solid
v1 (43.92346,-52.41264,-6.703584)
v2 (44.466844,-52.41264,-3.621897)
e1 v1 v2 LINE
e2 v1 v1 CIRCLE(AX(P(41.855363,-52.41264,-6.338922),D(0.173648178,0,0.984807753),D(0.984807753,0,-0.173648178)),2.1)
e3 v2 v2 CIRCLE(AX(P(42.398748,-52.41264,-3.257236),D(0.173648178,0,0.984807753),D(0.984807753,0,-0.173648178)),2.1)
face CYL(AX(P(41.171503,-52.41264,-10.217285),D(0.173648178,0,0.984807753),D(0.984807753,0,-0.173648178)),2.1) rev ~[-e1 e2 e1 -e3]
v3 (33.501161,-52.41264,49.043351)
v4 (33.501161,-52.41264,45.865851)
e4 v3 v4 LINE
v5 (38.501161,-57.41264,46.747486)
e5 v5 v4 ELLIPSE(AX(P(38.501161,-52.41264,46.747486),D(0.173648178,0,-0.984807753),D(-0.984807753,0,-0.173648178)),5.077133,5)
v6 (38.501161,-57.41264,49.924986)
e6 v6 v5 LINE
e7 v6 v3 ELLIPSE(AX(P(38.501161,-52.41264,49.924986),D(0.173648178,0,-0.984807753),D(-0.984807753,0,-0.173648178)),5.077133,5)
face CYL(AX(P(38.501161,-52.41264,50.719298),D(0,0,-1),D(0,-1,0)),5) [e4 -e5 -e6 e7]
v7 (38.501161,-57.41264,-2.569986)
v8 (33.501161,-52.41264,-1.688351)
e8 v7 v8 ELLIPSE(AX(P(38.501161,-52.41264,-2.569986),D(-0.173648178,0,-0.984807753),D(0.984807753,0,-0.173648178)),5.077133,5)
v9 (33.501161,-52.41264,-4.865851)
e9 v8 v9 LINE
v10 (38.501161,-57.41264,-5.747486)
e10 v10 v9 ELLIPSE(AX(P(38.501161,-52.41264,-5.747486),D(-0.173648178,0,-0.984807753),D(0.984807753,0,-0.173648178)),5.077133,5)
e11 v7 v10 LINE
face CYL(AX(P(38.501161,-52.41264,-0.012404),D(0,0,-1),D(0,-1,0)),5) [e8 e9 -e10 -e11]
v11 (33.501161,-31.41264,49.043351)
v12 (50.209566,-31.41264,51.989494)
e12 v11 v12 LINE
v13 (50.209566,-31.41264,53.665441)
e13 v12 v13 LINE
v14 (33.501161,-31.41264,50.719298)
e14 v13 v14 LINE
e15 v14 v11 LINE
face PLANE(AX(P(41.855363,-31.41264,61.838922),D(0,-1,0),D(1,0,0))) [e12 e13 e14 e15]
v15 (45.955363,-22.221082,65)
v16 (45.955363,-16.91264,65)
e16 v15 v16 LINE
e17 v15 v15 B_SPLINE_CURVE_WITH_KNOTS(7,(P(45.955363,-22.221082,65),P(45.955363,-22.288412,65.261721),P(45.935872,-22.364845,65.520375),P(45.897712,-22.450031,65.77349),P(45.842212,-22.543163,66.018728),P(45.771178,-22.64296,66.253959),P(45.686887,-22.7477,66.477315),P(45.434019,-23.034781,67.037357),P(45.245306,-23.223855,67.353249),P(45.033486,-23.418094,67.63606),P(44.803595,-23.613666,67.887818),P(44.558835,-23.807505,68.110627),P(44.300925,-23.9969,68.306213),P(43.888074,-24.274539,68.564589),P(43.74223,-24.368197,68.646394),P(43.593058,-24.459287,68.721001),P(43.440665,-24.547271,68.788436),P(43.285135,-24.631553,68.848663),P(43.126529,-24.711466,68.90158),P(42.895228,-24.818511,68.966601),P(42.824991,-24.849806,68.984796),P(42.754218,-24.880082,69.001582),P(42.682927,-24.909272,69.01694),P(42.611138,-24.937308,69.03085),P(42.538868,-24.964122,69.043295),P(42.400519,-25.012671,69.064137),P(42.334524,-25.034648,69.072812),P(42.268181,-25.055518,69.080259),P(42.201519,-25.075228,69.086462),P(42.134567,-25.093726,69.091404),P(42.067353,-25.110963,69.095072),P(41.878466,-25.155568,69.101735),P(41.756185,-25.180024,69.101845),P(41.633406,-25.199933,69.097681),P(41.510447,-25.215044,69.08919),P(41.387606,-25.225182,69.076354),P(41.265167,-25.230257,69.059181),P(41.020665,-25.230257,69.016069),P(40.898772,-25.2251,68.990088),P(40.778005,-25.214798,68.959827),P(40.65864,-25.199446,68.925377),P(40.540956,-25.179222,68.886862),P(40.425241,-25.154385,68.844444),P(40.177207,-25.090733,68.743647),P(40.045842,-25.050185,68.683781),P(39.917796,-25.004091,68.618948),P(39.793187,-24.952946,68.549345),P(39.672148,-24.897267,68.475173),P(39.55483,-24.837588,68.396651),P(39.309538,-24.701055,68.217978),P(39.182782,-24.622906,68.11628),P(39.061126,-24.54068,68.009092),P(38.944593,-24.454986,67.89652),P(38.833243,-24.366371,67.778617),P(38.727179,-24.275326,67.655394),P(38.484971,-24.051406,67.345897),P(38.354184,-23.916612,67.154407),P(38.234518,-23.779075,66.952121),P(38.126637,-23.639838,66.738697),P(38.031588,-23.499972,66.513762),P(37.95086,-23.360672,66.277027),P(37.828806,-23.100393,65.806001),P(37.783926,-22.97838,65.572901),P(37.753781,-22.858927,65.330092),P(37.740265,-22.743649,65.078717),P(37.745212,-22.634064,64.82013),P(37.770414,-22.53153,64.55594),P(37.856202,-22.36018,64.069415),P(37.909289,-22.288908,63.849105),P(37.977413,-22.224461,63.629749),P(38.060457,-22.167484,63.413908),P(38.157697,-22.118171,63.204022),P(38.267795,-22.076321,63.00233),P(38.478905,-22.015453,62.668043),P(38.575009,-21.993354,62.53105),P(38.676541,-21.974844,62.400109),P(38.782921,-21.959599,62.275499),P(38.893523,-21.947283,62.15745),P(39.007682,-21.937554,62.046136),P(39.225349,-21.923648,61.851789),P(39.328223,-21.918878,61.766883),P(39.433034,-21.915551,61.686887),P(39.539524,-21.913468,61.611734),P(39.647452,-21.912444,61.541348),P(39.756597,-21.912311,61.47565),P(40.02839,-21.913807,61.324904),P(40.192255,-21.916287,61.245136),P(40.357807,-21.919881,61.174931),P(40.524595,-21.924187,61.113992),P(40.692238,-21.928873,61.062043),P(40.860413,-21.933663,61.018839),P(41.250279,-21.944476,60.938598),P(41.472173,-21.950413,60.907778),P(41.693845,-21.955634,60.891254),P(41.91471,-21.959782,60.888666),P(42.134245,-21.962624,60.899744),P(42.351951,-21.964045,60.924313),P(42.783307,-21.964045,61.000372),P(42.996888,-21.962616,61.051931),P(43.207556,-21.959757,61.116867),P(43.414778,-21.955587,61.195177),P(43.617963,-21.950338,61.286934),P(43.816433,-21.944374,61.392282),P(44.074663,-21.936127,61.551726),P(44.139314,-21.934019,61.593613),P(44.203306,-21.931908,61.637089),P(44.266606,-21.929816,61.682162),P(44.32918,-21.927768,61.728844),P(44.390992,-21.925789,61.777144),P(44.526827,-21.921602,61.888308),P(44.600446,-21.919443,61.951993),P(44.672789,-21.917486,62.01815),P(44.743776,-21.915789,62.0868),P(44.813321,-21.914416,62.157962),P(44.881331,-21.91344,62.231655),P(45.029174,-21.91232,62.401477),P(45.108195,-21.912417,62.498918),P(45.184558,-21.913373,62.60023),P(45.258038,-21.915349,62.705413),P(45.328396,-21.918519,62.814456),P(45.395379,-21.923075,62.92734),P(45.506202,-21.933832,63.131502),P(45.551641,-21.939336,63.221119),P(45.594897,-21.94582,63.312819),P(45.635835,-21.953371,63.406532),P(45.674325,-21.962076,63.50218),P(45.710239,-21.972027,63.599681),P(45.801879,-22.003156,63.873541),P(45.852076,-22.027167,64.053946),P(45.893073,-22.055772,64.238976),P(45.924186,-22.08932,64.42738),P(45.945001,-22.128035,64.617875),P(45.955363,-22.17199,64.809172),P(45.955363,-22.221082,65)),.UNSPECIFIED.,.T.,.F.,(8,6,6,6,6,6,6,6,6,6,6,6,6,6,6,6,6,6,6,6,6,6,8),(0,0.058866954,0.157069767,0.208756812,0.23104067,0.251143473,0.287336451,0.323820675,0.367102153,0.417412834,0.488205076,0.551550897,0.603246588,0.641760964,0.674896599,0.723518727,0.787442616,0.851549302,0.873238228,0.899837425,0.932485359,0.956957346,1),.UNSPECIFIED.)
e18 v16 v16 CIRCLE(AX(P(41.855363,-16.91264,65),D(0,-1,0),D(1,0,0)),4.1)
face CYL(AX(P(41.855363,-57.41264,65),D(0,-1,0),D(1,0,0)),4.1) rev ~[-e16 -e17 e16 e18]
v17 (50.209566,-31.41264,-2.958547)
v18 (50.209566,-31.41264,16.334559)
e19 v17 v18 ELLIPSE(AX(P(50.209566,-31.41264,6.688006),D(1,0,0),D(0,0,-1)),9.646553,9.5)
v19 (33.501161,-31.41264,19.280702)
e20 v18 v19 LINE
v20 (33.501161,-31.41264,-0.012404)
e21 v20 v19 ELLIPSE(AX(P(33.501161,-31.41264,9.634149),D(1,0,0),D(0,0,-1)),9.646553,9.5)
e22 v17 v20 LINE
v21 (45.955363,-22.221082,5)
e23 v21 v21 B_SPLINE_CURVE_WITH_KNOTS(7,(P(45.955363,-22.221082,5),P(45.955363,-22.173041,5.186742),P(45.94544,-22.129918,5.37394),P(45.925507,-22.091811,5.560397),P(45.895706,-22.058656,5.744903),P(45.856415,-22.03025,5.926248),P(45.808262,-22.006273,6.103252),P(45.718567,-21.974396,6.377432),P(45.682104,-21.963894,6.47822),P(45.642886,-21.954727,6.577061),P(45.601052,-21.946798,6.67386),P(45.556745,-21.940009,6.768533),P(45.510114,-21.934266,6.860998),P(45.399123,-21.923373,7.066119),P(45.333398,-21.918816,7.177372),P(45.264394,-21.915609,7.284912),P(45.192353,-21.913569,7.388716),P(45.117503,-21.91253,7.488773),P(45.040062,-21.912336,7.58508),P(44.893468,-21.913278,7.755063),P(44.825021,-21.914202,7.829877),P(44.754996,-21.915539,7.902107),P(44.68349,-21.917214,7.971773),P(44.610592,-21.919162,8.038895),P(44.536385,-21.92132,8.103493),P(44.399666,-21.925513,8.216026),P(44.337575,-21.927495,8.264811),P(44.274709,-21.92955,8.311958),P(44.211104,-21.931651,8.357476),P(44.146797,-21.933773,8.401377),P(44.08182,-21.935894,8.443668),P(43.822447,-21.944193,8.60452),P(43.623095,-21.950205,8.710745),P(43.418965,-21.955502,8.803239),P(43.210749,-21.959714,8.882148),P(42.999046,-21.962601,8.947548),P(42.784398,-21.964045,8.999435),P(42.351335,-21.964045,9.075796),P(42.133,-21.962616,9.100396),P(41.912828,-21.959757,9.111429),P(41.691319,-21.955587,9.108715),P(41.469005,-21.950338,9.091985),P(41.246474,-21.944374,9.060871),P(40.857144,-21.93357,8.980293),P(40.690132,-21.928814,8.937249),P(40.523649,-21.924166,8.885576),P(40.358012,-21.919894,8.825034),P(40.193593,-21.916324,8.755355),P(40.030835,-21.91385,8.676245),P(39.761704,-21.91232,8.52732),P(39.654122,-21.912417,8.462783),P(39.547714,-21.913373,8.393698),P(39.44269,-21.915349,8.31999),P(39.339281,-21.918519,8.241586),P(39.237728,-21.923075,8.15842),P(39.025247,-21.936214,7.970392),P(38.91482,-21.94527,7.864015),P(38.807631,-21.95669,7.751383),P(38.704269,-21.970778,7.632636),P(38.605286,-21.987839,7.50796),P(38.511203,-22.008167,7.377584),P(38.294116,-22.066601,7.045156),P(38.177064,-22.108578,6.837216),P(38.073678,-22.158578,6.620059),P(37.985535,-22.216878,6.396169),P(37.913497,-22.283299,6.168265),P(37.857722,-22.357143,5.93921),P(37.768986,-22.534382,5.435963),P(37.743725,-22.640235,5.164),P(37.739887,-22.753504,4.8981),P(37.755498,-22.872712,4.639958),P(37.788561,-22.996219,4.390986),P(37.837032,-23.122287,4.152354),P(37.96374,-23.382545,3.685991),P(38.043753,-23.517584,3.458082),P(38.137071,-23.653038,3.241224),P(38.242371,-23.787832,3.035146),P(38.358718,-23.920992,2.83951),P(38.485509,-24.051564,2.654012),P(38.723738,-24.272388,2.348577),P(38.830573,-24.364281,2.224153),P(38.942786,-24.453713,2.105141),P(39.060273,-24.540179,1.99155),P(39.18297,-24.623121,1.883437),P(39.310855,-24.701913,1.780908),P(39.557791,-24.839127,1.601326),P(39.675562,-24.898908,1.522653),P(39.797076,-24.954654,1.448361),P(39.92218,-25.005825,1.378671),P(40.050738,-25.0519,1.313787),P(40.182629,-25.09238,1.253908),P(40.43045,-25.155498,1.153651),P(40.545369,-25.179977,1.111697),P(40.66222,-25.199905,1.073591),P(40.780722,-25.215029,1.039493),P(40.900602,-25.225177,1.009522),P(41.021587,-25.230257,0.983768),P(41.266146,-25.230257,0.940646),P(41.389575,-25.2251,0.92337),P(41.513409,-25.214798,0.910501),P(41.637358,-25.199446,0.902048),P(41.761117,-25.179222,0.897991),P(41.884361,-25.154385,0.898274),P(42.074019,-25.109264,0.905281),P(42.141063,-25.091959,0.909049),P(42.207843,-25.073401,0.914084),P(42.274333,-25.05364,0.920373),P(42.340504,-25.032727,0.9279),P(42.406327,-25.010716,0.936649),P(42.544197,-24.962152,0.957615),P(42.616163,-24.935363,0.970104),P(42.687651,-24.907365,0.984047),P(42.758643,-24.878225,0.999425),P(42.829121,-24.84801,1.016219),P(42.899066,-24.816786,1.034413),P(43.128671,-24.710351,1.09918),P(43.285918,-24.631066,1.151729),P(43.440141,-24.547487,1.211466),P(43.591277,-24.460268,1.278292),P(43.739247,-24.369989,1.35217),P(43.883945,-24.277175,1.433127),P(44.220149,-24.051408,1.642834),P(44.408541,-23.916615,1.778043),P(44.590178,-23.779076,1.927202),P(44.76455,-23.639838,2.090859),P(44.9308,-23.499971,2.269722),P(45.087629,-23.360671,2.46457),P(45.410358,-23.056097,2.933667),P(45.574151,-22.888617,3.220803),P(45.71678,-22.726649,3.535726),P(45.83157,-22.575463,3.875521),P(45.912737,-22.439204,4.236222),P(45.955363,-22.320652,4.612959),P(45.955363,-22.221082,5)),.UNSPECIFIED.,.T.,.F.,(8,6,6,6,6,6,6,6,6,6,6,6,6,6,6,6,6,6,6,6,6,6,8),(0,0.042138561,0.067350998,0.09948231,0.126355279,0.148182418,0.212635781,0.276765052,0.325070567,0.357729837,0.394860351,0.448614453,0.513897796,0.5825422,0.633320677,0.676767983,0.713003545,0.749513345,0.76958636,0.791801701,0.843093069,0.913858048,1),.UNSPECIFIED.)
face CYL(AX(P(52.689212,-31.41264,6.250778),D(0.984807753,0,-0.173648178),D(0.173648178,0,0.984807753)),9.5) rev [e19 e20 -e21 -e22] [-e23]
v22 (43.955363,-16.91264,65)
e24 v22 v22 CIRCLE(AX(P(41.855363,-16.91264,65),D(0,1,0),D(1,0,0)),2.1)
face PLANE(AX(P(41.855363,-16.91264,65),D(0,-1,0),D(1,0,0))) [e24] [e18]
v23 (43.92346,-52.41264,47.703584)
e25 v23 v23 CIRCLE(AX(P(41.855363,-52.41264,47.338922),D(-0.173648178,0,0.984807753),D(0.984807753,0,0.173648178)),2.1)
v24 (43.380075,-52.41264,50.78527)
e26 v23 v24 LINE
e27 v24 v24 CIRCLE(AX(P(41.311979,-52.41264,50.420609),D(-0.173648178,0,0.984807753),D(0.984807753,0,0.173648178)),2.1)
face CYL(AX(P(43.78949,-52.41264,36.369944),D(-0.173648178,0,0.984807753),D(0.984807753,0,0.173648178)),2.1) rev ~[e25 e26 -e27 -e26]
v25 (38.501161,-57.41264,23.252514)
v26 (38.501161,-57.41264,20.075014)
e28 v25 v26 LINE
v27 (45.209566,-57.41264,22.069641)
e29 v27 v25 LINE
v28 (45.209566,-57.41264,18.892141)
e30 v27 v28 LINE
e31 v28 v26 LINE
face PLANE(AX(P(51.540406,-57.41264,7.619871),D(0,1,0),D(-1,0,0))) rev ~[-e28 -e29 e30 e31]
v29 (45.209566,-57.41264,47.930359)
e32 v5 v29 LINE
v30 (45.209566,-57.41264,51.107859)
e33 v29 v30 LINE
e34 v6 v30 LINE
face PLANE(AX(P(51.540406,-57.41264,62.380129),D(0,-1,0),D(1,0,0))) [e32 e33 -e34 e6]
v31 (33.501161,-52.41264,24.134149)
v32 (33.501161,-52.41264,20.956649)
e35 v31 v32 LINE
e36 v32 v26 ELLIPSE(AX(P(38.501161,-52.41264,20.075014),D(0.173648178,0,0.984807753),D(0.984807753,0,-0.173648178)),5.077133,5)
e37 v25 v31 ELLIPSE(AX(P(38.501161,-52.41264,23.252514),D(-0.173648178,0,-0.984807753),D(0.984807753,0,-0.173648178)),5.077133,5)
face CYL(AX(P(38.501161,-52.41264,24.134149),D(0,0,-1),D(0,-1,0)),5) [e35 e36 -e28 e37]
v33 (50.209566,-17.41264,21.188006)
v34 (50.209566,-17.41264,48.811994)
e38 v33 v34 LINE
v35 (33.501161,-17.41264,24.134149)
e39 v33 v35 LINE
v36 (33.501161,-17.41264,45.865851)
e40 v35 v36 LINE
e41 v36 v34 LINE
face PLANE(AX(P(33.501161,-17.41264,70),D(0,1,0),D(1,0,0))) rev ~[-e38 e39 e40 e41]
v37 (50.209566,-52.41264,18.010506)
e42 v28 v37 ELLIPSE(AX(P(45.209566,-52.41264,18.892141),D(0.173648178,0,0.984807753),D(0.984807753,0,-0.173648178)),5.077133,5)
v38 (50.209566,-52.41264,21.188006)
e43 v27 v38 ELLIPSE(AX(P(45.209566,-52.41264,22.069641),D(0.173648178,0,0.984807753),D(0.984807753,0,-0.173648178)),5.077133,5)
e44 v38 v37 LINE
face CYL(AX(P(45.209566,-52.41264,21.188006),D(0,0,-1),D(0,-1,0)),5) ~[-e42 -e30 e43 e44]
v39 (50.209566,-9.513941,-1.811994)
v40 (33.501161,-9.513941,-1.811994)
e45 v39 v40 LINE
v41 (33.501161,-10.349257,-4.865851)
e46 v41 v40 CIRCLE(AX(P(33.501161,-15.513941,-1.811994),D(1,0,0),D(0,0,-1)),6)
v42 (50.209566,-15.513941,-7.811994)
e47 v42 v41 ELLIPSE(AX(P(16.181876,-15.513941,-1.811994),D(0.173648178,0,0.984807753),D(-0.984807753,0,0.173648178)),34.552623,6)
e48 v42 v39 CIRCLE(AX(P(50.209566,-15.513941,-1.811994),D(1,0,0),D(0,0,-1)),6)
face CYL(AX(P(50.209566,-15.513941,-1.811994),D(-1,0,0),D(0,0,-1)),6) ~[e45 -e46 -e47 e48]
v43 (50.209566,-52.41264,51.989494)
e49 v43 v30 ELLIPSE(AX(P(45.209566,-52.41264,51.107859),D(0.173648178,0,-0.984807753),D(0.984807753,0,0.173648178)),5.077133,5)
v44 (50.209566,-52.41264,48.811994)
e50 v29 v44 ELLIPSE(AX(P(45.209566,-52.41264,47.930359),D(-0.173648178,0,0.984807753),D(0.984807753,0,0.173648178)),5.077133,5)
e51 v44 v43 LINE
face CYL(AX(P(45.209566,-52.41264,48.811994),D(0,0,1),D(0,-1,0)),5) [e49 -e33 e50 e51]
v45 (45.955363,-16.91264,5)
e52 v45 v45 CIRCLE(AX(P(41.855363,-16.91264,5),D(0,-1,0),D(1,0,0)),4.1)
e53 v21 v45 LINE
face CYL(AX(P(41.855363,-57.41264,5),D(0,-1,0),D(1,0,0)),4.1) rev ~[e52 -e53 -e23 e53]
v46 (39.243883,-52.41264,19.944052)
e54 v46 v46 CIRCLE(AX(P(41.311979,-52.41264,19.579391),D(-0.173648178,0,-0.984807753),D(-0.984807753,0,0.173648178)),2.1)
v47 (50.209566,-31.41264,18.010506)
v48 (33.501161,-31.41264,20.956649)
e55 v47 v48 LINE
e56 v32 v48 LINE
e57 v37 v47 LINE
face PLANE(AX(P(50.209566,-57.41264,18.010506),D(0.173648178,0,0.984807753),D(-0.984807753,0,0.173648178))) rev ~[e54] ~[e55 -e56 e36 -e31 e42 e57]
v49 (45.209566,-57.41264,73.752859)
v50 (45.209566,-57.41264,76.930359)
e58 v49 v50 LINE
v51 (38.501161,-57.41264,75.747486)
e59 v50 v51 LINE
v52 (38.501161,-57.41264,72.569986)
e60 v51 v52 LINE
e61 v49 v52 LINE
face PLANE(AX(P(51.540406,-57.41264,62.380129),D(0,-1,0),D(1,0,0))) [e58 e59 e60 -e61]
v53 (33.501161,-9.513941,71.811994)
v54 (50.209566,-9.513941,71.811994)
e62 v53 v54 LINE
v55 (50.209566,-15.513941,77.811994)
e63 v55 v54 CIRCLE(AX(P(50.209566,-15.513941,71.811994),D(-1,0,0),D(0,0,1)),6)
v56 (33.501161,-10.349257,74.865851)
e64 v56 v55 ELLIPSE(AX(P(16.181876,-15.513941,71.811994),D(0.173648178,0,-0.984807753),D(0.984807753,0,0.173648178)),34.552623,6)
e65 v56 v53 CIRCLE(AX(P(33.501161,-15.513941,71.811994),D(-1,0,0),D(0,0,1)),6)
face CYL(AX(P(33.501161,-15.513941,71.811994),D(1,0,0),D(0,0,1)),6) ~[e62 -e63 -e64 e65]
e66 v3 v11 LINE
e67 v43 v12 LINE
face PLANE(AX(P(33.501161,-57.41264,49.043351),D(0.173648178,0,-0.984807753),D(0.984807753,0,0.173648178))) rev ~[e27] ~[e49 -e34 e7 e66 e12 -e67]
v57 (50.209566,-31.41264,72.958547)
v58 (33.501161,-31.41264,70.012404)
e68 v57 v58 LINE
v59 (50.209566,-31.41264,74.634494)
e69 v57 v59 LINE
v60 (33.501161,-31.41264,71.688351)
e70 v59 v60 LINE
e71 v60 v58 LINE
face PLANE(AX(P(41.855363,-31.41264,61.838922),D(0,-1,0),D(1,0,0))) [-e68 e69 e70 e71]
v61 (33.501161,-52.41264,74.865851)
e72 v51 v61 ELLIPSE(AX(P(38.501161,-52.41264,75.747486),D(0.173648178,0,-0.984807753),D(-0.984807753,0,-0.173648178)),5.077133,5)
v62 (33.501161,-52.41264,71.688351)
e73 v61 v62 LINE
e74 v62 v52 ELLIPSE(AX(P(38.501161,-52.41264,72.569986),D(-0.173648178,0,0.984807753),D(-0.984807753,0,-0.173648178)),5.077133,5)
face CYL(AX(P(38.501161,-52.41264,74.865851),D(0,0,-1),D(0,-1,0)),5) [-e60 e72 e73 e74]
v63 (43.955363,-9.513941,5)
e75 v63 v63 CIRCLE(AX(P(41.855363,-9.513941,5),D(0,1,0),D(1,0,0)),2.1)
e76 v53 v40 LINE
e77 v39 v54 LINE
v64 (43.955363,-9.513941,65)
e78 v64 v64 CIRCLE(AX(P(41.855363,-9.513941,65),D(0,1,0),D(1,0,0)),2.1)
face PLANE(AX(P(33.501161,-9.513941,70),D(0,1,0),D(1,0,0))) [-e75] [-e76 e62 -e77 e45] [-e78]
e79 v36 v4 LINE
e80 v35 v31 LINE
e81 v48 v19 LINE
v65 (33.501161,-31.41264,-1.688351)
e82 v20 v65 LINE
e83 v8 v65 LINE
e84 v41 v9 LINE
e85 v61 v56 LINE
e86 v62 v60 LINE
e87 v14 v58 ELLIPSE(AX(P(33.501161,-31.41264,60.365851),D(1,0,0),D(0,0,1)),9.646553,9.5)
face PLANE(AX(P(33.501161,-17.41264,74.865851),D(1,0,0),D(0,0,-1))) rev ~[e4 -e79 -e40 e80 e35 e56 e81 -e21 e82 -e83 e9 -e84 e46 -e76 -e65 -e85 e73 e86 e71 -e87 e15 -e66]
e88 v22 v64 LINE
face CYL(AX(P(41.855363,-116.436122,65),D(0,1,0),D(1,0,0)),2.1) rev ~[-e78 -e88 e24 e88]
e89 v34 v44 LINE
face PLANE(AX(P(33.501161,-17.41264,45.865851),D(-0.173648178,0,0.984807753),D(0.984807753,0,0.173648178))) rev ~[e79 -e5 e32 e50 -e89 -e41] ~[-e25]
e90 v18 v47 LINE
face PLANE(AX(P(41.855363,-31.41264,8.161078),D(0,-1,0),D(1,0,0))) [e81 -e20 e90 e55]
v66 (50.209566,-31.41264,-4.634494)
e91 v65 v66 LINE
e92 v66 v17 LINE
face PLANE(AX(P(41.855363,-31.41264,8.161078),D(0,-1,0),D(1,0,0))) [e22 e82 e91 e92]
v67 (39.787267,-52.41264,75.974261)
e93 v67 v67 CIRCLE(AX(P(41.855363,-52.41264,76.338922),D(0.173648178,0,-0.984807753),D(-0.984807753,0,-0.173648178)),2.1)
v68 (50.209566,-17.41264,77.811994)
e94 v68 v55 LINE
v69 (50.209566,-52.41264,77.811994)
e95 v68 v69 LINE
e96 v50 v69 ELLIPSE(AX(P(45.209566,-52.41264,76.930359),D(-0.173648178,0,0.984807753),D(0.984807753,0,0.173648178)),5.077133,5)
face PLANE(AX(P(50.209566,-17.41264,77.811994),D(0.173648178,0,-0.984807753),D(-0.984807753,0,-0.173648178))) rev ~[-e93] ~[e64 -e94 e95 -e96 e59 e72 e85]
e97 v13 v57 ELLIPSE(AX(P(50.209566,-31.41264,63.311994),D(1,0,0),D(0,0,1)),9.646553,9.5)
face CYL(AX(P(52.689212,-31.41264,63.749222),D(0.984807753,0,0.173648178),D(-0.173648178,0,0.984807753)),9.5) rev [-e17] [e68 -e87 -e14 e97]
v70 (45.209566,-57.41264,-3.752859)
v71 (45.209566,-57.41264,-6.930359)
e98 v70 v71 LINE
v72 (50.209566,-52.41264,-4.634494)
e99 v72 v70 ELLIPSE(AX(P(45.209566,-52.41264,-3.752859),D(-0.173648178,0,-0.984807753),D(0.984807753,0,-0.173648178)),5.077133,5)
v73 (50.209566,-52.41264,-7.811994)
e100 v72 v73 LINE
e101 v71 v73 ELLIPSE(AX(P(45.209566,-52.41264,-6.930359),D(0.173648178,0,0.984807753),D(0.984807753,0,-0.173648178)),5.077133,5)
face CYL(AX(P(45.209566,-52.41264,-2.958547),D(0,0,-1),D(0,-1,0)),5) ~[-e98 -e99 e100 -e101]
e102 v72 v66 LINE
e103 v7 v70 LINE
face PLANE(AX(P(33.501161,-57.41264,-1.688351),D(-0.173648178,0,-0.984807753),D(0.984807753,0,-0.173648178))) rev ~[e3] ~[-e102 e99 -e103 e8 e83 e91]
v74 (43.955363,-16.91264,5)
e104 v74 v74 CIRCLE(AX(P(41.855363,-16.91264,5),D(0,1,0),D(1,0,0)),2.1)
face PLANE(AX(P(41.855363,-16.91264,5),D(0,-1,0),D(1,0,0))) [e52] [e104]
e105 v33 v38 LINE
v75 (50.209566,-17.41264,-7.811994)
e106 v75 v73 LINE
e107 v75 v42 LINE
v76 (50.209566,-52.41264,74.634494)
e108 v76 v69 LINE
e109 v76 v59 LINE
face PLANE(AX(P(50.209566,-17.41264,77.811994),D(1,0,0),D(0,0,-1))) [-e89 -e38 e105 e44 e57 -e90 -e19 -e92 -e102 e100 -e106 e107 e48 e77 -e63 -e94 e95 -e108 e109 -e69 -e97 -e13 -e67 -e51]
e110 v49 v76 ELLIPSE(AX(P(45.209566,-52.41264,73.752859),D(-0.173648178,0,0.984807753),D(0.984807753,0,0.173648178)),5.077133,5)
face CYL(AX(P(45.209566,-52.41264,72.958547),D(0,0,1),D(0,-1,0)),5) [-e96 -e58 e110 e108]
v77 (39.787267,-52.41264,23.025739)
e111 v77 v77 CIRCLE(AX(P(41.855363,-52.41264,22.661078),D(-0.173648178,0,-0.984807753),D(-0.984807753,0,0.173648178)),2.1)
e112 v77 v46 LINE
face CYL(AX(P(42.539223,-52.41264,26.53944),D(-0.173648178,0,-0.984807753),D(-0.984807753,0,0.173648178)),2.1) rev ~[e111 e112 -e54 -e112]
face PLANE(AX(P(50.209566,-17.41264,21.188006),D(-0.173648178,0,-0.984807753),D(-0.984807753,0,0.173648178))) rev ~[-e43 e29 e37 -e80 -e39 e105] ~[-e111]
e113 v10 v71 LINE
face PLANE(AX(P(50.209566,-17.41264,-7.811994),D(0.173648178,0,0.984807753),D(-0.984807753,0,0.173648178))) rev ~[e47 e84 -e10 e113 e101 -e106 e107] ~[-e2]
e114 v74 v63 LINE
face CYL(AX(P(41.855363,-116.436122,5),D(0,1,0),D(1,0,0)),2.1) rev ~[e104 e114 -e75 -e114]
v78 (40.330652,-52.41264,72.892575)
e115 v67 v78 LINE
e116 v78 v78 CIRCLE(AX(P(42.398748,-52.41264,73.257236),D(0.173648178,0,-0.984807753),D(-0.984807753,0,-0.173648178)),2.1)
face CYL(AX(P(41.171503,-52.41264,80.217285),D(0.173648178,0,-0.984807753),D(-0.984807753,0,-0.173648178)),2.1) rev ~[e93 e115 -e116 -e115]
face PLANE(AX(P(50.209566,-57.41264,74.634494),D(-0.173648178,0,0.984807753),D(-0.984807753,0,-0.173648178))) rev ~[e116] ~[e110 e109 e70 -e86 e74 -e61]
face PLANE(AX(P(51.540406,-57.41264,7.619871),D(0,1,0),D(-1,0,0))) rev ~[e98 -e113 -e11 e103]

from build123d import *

# Parameters (mm, degrees)
SKETCH1_R             = 21
BOSS_EXTRUDE1_DEPTH   = 70
SKETCH2_W             = 46.708404894
SKETCH2_H             = 50
SKETCH2_W_2           = 13.291595106
CUT_EXTRUDE6_DEPTH    = 1000
CUT_EXTRUDE7_DEPTH    = 500
CUT_EXTRUDE9_DEPTH    = 10
CUT_EXTRUDE10_DEPTH   = 30
FILLET1_R             = 10
BOSS_EXTRUDE4_DEPTH   = 25
FILLET3_R             = 10
SKETCH14_R            = 4
CUT_EXTRUDE11_DEPTH   = 127.980923087
CUT_EXTRUDE12_START   = -2
CUT_EXTRUDE12_DEPTH   = 2
CUT_EXTRUDE13_DEPTH   = 2
BOSS_EXTRUDE5_REACH   = 117.988
SKETCH20_W            = 16.708404894
SKETCH20_H            = 7.898698888
SKETCH26_W            = 16.708404894
SKETCH26_H            = 7.898698888
BOSS_EXTRUDE12_DEPTH  = 7.811994
SKETCH27_W            = 16.708404894
SKETCH27_H            = 7.898698888
BOSS_EXTRUDE13_DEPTH  = 7.811994
FILLET4_R             = 6
FILLET5_R             = 6
BOSS_EXTRUDE14_DEPTH  = 40
BOSS_EXTRUDE15_DEPTH  = 40
CUT_EXTRUDE14_DEPTH   = 156.020628616
BOSS_EXTRUDE16_DEPTH  = 40
CUT_EXTRUDE16_DEPTH   = 154.401382374
CUT_EXTRUDE17_DEPTH   = 20
CUT_EXTRUDE18_DEPTH   = 20
CUT_EXTRUDE19_DEPTH   = 138.956751978
SKETCH40_W            = 185.24105406
SKETCH40_H            = 117.002542876
CUT_EXTRUDE21_DEPTH   = 127.12652477
SKETCH41_W            = 67.695511819
SKETCH41_H            = 32.478739283
CUT_EXTRUDE22_DEPTH   = 109.958332386
FILLET6_R             = 5
SKETCH78_R            = 4.1
CUT_EXTRUDE23_DEPTH   = 40.5
M5_TAPPED_HOLE2_D     = 4.2
M5_TAPPED_HOLE3_D     = 4.2
M5_TAPPED_HOLE3_DEPTH = 3.9381927
M5_TAPPED_HOLE3_TIP   = 1.2618073
M5_TAPPED_HOLE4_D     = 4.2
M5_TAPPED_HOLE4_DEPTH = 3.9381927
M5_TAPPED_HOLE4_TIP   = 1.2618073
M5_TAPPED_HOLE5_D     = 4.2
M5_TAPPED_HOLE5_DEPTH = 3.9381927
M5_TAPPED_HOLE5_TIP   = 1.2618073
M5_TAPPED_HOLE6_D     = 4.2
M5_TAPPED_HOLE6_DEPTH = 11.1381927
M5_TAPPED_HOLE6_TIP   = 1.2618073
CUT_EXTRUDE24_DEPTH   = 26
CUT_EXTRUDE25_DEPTH   = 26


with BuildPart() as part:
    # Sketch1 → Boss-Extrude1 (new body)
    with BuildSketch(Plane.XY):
        with BuildLine():
            Line((-49.790434142, -17.412639916), (50.209565858, -17.412639916))
            Line((50.209565858, -17.412639916), (50.209565858, -9.513941028))
            ThreePointArc((50.209565858, -9.513941028), (38.690061243, 42.665747249), (-10.864044799, 22.670512076))
            add(Edge.make_bspline(
                [(-49.790434142, -1.270303125), (-17.557932869, 2.386486473), (-10.864044799, 22.670512076)],
                knots=[0, 0, 0, 1, 1, 1], degree=2))
            Line((-49.790434142, -1.270303125), (-49.790434142, -17.412639916))
        make_face()
        with Locations((22.372880083, 11.702065313)):
            Circle(SKETCH1_R, mode=Mode.SUBTRACT)
    extrude(amount=BOSS_EXTRUDE1_DEPTH)

    # Sketch2 → Cut-Extrude6 (cut)
    with BuildSketch(Plane.XZ.offset(17.412639916)):
        with Locations((26.855363411, 35)):
            Rectangle(SKETCH2_W, SKETCH2_H)
        with Locations((56.855363411, 35)):
            Rectangle(SKETCH2_W_2, SKETCH2_H)
    extrude(amount=-CUT_EXTRUDE6_DEPTH, mode=Mode.SUBTRACT)

    # Sketch4 → Cut-Extrude7 (cut, symmetric)
    with BuildSketch(Plane(origin=(0, 0, 60), x_dir=(-1, 0, 0), z_dir=(0, 0, -1))):
        Polygon((-3.501160964, -17.412639916), (-33.501160964, -17.412639916), (-33.501160964, -6.106959496), (-3.501160964, 2.490213302), align=None)
    extrude(amount=CUT_EXTRUDE7_DEPTH, both=True, mode=Mode.SUBTRACT)

    # Sketch6 → Cut-Extrude9 (cut)
    with BuildSketch(Plane.XZ.offset(17.412639916)):
        with BuildLine():
            Line((-24.792277304, 11.964880704), (3.501160964, 10))
            Line((3.501160964, 10), (3.501160964, 60))
            Line((3.501160964, 60), (-24.792277304, 58.035119296))
            ThreePointArc((-24.792277304, 58.035119296), (-36.706675963, 52.357484539), (-41.545243514, 40.078368289))
            Line((-41.545243514, 40.078368289), (-41.545243514, 29.921631711))
            ThreePointArc((-41.545243514, 29.921631711), (-36.706675963, 17.642515461), (-24.792277304, 11.964880704))
        make_face()
    extrude(amount=-CUT_EXTRUDE9_DEPTH, mode=Mode.SUBTRACT)

    # Sketch7 → Cut-Extrude10 (cut)
    with BuildSketch(Plane.XZ.offset(17.412639916)):
        with BuildLine():
            Line((-49.790434142, 0), (-26.790434142, 0))
            ThreePointArc((-26.790434142, 0), (-40.575408311, 4.143958018), (-49.790434142, 15.202041029))
            Line((-49.790434142, 15.202041029), (-49.790434142, 0))
        make_face()
        with BuildLine():
            Line((-51.790434142, 0), (-49.790434142, 0))
            Line((-49.790434142, 0), (-49.790434142, 15.202041029))
            ThreePointArc((-49.790434142, 15.202041029), (-51.285331569, 20), (-51.790434142, 25))
            Line((-51.790434142, 25), (-51.790434142, 0))
        make_face()
        with BuildLine():
            ThreePointArc((-51.790434142, 45), (-51.285331569, 50), (-49.790434142, 54.797958971))
            Line((-49.790434142, 54.797958971), (-49.790434142, 70))
            Line((-49.790434142, 70), (-51.790434142, 70))
            Line((-51.790434142, 70), (-51.790434142, 45))
        make_face()
        with BuildLine():
            Line((-49.790434142, 70), (-49.790434142, 54.797958971))
            ThreePointArc((-49.790434142, 54.797958971), (-40.575408311, 65.856041982), (-26.790434142, 70))
            Line((-26.790434142, 70), (-49.790434142, 70))
        make_face()
        with BuildLine():
            ThreePointArc((-51.790434142, 25), (-51.285331569, 20), (-49.790434142, 15.202041029))
            Line((-49.790434142, 15.202041029), (-49.790434142, 54.797958971))
            ThreePointArc((-49.790434142, 54.797958971), (-51.285331569, 50), (-51.790434142, 45))
            Line((-51.790434142, 45), (-51.790434142, 25))
        make_face()
    extrude(amount=-CUT_EXTRUDE10_DEPTH, mode=Mode.SUBTRACT)

    # Fillet1
    fillet1_edges = [part.edges().sort_by_distance(p)[0] for p in [
        (-49.790434142, -1.270303125, 35),
    ]]
    fillet(fillet1_edges, radius=FILLET1_R)

    # Sketch13 → Boss-Extrude4 (add, symmetric)
    with BuildSketch(Plane(origin=(0, 0, 35), x_dir=(-1, 0, 0), z_dir=(0, 0, -1))):
        with BuildLine():
            Line((-3.501160964, 41.17846634), (-24.884209642, 72.591285845))
            Line((-24.884209642, 72.591285845), (-12.526412407, 81.003373139))
            Line((-12.526412407, 81.003373139), (8.038253711, 50.792800518))
            ThreePointArc((8.038253711, 50.792800518), (9.622093989, 48.312116906), (11.057231329, 45.742540671))
            Line((11.057231329, 45.742540671), (33.791827707, 2.064737728))
            add(Edge.make_bspline(
                [(10.864044799, 22.670512076), (15.694334208, 8.033620479), (33.791827707, 2.064737728)],
                knots=[0, 0, 0, 1, 1, 1], degree=2))
            ThreePointArc((10.864044799, 22.670512076), (5.276058191, 33.162172776), (-3.501160964, 41.17846634))
        make_face()
    extrude(amount=BOSS_EXTRUDE4_DEPTH, both=True)

    # Fillet3
    fillet3_edges = [part.edges().sort_by_distance(p)[0] for p in [
        (18.705311024, 76.797329492, 60),
        (18.705311024, 76.797329492, 10),
    ]]
    fillet(fillet3_edges, radius=FILLET3_R)

    # Sketch14 → Cut-Extrude11 (cut, through all)
    with BuildSketch(Plane(origin=(-29.120143538, 19.822399154, 0), x_dir=(0, 0, 1), z_dir=(-0.8266531448642671, 0.5627118073099384, 0))):
        with Locations(Location((35, 55.764287513, 0), (0, 0, 270))):
            Circle(SKETCH14_R)
    extrude(amount=-CUT_EXTRUDE11_DEPTH, mode=Mode.SUBTRACT)

    # Sketch16 → Cut-Extrude12 (cut)
    with BuildSketch(Plane.XY.offset(70).offset(CUT_EXTRUDE12_START)):
        with BuildLine():
            ThreePointArc((33.501160964, -7.853275764), (27.695040964, 33.563552078), (3.501160964, -0.549800564))
            Line((3.501160964, -0.549800564), (3.501160964, 2.490213302))
            ThreePointArc((3.501160964, 2.490213302), (28.158038159, 31.889485803), (33.501160964, -6.106959496))
            Line((33.501160964, -6.106959496), (33.501160964, -7.853275764))
        make_face()
    extrude(amount=CUT_EXTRUDE12_DEPTH, mode=Mode.SUBTRACT)

    # Sketch17 → Cut-Extrude13 (cut)
    with BuildSketch(Plane(origin=(0, 0, 0), x_dir=(-1, 0, 0), z_dir=(0, 0, -1))):
        with BuildLine():
            ThreePointArc((-3.501160964, -0.549800564), (-27.695040964, 33.563552078), (-33.501160964, -7.853275764))
            Line((-33.501160964, -7.853275764), (-33.501160964, -6.106959496))
            ThreePointArc((-33.501160964, -6.106959496), (-28.158038159, 31.889485803), (-3.501160964, 2.490213302))
            Line((-3.501160964, 2.490213302), (-3.501160964, -0.549800564))
        make_face()
    extrude(amount=-CUT_EXTRUDE13_DEPTH, mode=Mode.SUBTRACT)

    # Sketch20 → Boss-Extrude5 (add, up to next)
    with BuildSketch(Plane.XY.offset(10), mode=Mode.PRIVATE) as boss_extrude5_sk1:
        with Locations((41.855363411, -13.463290472)):
            Rectangle(SKETCH20_W, SKETCH20_H)
    boss_extrude5_tool1 = extrude(boss_extrude5_sk1.sketch, amount=BOSS_EXTRUDE5_REACH, mode=Mode.PRIVATE) - part.part
    add(boss_extrude5_tool1.solids().sort_by_distance((41.855363, -13.46329, 10))[0])

    # Sketch26 → Boss-Extrude12 (add)
    with BuildSketch(Plane(origin=(0, 0, 0), x_dir=(-1, 0, 0), z_dir=(0, 0, -1))):
        with Locations((-41.855363411, -13.463290472)):
            Rectangle(SKETCH26_W, SKETCH26_H)
    extrude(amount=BOSS_EXTRUDE12_DEPTH)

    # Sketch27 → Boss-Extrude13 (add)
    with BuildSketch(Plane.XY.offset(70)):
        with Locations((41.855363411, -13.463290472)):
            Rectangle(SKETCH27_W, SKETCH27_H)
    extrude(amount=BOSS_EXTRUDE13_DEPTH)

    # Fillet4
    fillet4_edges = [part.edges().sort_by_distance(p)[0] for p in [
        (41.855363411, -9.513941028, -7.811994),
    ]]
    fillet(fillet4_edges, radius=FILLET4_R)

    # Fillet5
    fillet5_edges = [part.edges().sort_by_distance(p)[0] for p in [
        (41.855363411, -9.513941028, 77.811994),
    ]]
    fillet(fillet5_edges, radius=FILLET5_R)

    # Sketch22 → Boss-Extrude14 (add)
    with BuildSketch(Plane.XZ.offset(17.412639916)):
        Polygon((50.209565858, 48.811993748), (50.209565858, 77.811993748), (33.501160964, 74.865851161), (33.501160964, 45.865851161), align=None)
        Polygon((50.209565858, 21.188006252), (33.501160964, 24.134148839), (33.501160964, -4.865851161), (50.209565858, -7.811993748), align=None)
    extrude(amount=BOSS_EXTRUDE14_DEPTH)

    # Sketch31 → Boss-Extrude15 (add)
    with BuildSketch(Plane.XZ.offset(57.412639916)):
        Polygon((50.209565858, 21.188006252), (55.168857937, 20.313549253), (50.209565858, -7.811993748), align=None)
    extrude(amount=-BOSS_EXTRUDE15_DEPTH)

    # Sketch33 → Cut-Extrude14 (cut, through all)
    with BuildSketch(Plane(origin=(50.031491805, 0, -8.82190189), x_dir=(-0.17364817766693016, 0, -0.9848077530122082), z_dir=(0.9848077530122082, 0, -0.17364817766693016))):
        with BuildLine():
            Line((-5.805200022, -31.412639916), (-5.805200022, -57.412639916))
            Line((-5.805200022, -57.412639916), (-24.805200022, -57.412639916))
            Line((-24.805200022, -57.412639916), (-24.805200022, -31.412639916))
            ThreePointArc((-24.805200022, -31.412639916), (-15.305200022, -21.912639916), (-5.805200022, -31.412639916))
        make_face()
    extrude(amount=-CUT_EXTRUDE14_DEPTH, mode=Mode.SUBTRACT)

    # Sketch34 → Boss-Extrude16 (add)
    with BuildSketch(Plane.XZ.offset(57.412639916)):
        Polygon((50.209565858, 48.811993748), (55.168857937, 49.686450747), (50.209565858, 77.811993748), align=None)
    extrude(amount=-BOSS_EXTRUDE16_DEPTH)

    # Sketch36 → Cut-Extrude16 (cut, through all)
    with BuildSketch(Plane(origin=(62.002196821, 0, 10.932660163), x_dir=(0.1736481776669346, 0, -0.9848077530122074), z_dir=(0.9848077530122075, 0, 0.17364817766693463))):
        with BuildLine():
            Line((-44.131342689, -31.412639916), (-44.131342689, -57.412639916))
            Line((-44.131342689, -57.412639916), (-63.131342689, -57.412639916))
            Line((-63.131342689, -57.412639916), (-63.131342689, -31.412639916))
            ThreePointArc((-63.131342689, -31.412639916), (-53.631342689, -21.912639916), (-44.131342689, -31.412639916))
        make_face()
    extrude(amount=-CUT_EXTRUDE16_DEPTH, mode=Mode.SUBTRACT)

    # Sketch37 → Cut-Extrude17 (cut)
    with BuildSketch(Plane.XZ.offset(17.412639916)):
        Polygon((33.501160964, -4.865851161), (33.501160964, -7.811993748), (50.209565858, -7.811993748), align=None)
    extrude(amount=-CUT_EXTRUDE17_DEPTH, mode=Mode.SUBTRACT)

    # Sketch38 → Cut-Extrude18 (cut)
    with BuildSketch(Plane.XZ.offset(17.412639916)):
        Polygon((50.209565858, 77.811993748), (33.501160964, 77.811993748), (33.501160964, 74.865851161), align=None)
    extrude(amount=-CUT_EXTRUDE18_DEPTH, mode=Mode.SUBTRACT)

    # Sketch39 → Cut-Extrude19 (cut, through all)
    with BuildSketch(Plane(origin=(0, -17.412639916, 0), x_dir=(1, 0, 0), z_dir=(0, 1, 0))):
        Polygon((50.209565858, -48.811993748), (55.168857937, -49.686450747), (50.209565858, -77.811993748), align=None)
        Polygon((50.209565858, 7.811993748), (55.168857937, -20.313549253), (50.209565858, -21.188006252), align=None)
    extrude(amount=-CUT_EXTRUDE19_DEPTH, mode=Mode.SUBTRACT)

    # Sketch40 → Cut-Extrude21 (cut, through all)
    with BuildSketch(Plane.XY):
        with Locations((-9.514852979, 48.98733041)):
            Rectangle(SKETCH40_W, SKETCH40_H)
    extrude(amount=CUT_EXTRUDE21_DEPTH, mode=Mode.SUBTRACT)


with BuildPart() as cut_extrude21_piece_1:
    # of the separate pieces the step leaves, piece 1, a body of its own (cut_extrude21_pieces)
    add(part.part.solids().sort_by_distance((33.501160964, -57.412639916, 74.865851161))[0])

    # Fillet6
    fillet6_edges = [cut_extrude21_piece_1.edges().sort_by_distance(p)[0] for p in [
        (33.501160964, -57.412639916, 72.439127567),
        (33.501160964, -57.412639916, -2.439127567),
        (33.501160964, -57.412639916, 21.707425246),
        (33.501160964, -57.412639916, 48.292574754),
        (50.209565858, -57.412639916, 51.238717342),
        (50.209565858, -57.412639916, 75.385270155),
        (50.209565858, -57.412639916, -5.385270155),
        (50.209565858, -57.412639916, 18.761282658),
    ]]
    fillet(fillet6_edges, radius=FILLET6_R)

    # Sketch78 → Cut-Extrude23 (cut)
    with BuildSketch(Plane.XZ.offset(57.412639916)):
        with Locations((41.855363411, 5)):
            Circle(SKETCH78_R)
        with Locations((41.855363411, 65)):
            Circle(SKETCH78_R)
    extrude(amount=-CUT_EXTRUDE23_DEPTH, mode=Mode.SUBTRACT)

    # M5 Tapped Hole2 (through all)
    with Locations(Plane(origin=(41.855363411, -16.912639916, 65), x_dir=(-1, 0, 0), z_dir=(0, -1, 0))):
        with Locations((0, 0), (0, 60)):
            Hole(M5_TAPPED_HOLE2_D / 2)

    # M5 Tapped Hole3
    with Locations(Plane(origin=(41.855363411, -52.412639916, -6.338922455), x_dir=(-0.984807753012, 0, 0.173648177667), z_dir=(-0.173648177667, 0, -0.984807753012))):
        with Locations((0, 0)):
            Hole(M5_TAPPED_HOLE3_D / 2, depth=M5_TAPPED_HOLE3_DEPTH)
            with Locations((0, 0, -(M5_TAPPED_HOLE3_DEPTH + M5_TAPPED_HOLE3_TIP / 2))):  # 118° drill point
                Cone(0, M5_TAPPED_HOLE3_D / 2, M5_TAPPED_HOLE3_TIP, mode=Mode.SUBTRACT)

    # M5 Tapped Hole4
    with Locations(Plane(origin=(41.855363411, -52.412639916, 76.338922455), x_dir=(0.984807753012, 0, 0.173648177667), z_dir=(-0.173648177667, 0, 0.984807753012))):
        with Locations((0, 0)):
            Hole(M5_TAPPED_HOLE4_D / 2, depth=M5_TAPPED_HOLE4_DEPTH)
            with Locations((0, 0, -(M5_TAPPED_HOLE4_DEPTH + M5_TAPPED_HOLE4_TIP / 2))):  # 118° drill point
                Cone(0, M5_TAPPED_HOLE4_D / 2, M5_TAPPED_HOLE4_TIP, mode=Mode.SUBTRACT)

    # M5 Tapped Hole5
    with Locations(Plane(origin=(41.855363411, -52.412639916, 22.661077545), x_dir=(0.984807753012, 0, -0.173648177667), z_dir=(0.173648177667, 0, 0.984807753012))):
        with Locations((0, 0)):
            Hole(M5_TAPPED_HOLE5_D / 2, depth=M5_TAPPED_HOLE5_DEPTH)
            with Locations((0, 0, -(M5_TAPPED_HOLE5_DEPTH + M5_TAPPED_HOLE5_TIP / 2))):  # 118° drill point
                Cone(0, M5_TAPPED_HOLE5_D / 2, M5_TAPPED_HOLE5_TIP, mode=Mode.SUBTRACT)

    # M5 Tapped Hole6
    with Locations(Plane(origin=(41.855363411, -52.412639916, 47.338922455), x_dir=(-0.984807753012, 0, -0.173648177667), z_dir=(0.173648177667, 0, -0.984807753012))):
        with Locations((0, 0)):
            Hole(M5_TAPPED_HOLE6_D / 2, depth=M5_TAPPED_HOLE6_DEPTH)
            with Locations((0, 0, -(M5_TAPPED_HOLE6_DEPTH + M5_TAPPED_HOLE6_TIP / 2))):  # 118° drill point
                Cone(0, M5_TAPPED_HOLE6_D / 2, M5_TAPPED_HOLE6_TIP, mode=Mode.SUBTRACT)

    # Sketch88 → Cut-Extrude24 (cut)
    with BuildSketch(Plane.XZ.offset(57.412639916)):
        Polygon((33.501160964, -1.688351161), (50.209565858, -4.634493748), (50.209565858, 18.010506252), (33.501160964, 20.956648839), align=None)
    extrude(amount=-CUT_EXTRUDE24_DEPTH, mode=Mode.SUBTRACT)

    # Sketch93 → Cut-Extrude25 (cut)
    with BuildSketch(Plane.XZ.offset(57.412639916)):
        Polygon((33.501160964, 49.043351161), (50.209565858, 51.989493748), (50.209565858, 74.634493748), (33.501160964, 71.688351161), align=None)
    extrude(amount=-CUT_EXTRUDE25_DEPTH, mode=Mode.SUBTRACT)


with BuildPart() as cut_extrude21_piece_2:
    # of the separate pieces the step leaves, piece 2, a body of its own (cut_extrude21_pieces)
    add(part.part.solids().sort_by_distance((3.501160964, -17.412639916, 0))[0])

    # Sketch41 → Cut-Extrude22 (cut, through all)
    with BuildSketch(Plane.XY):
        with Locations((-18.815044507, -13.828974806)):
            Rectangle(SKETCH41_W, SKETCH41_H)
    extrude(amount=CUT_EXTRUDE22_DEPTH, mode=Mode.SUBTRACT)


solid = cut_extrude21_piece_1.part
